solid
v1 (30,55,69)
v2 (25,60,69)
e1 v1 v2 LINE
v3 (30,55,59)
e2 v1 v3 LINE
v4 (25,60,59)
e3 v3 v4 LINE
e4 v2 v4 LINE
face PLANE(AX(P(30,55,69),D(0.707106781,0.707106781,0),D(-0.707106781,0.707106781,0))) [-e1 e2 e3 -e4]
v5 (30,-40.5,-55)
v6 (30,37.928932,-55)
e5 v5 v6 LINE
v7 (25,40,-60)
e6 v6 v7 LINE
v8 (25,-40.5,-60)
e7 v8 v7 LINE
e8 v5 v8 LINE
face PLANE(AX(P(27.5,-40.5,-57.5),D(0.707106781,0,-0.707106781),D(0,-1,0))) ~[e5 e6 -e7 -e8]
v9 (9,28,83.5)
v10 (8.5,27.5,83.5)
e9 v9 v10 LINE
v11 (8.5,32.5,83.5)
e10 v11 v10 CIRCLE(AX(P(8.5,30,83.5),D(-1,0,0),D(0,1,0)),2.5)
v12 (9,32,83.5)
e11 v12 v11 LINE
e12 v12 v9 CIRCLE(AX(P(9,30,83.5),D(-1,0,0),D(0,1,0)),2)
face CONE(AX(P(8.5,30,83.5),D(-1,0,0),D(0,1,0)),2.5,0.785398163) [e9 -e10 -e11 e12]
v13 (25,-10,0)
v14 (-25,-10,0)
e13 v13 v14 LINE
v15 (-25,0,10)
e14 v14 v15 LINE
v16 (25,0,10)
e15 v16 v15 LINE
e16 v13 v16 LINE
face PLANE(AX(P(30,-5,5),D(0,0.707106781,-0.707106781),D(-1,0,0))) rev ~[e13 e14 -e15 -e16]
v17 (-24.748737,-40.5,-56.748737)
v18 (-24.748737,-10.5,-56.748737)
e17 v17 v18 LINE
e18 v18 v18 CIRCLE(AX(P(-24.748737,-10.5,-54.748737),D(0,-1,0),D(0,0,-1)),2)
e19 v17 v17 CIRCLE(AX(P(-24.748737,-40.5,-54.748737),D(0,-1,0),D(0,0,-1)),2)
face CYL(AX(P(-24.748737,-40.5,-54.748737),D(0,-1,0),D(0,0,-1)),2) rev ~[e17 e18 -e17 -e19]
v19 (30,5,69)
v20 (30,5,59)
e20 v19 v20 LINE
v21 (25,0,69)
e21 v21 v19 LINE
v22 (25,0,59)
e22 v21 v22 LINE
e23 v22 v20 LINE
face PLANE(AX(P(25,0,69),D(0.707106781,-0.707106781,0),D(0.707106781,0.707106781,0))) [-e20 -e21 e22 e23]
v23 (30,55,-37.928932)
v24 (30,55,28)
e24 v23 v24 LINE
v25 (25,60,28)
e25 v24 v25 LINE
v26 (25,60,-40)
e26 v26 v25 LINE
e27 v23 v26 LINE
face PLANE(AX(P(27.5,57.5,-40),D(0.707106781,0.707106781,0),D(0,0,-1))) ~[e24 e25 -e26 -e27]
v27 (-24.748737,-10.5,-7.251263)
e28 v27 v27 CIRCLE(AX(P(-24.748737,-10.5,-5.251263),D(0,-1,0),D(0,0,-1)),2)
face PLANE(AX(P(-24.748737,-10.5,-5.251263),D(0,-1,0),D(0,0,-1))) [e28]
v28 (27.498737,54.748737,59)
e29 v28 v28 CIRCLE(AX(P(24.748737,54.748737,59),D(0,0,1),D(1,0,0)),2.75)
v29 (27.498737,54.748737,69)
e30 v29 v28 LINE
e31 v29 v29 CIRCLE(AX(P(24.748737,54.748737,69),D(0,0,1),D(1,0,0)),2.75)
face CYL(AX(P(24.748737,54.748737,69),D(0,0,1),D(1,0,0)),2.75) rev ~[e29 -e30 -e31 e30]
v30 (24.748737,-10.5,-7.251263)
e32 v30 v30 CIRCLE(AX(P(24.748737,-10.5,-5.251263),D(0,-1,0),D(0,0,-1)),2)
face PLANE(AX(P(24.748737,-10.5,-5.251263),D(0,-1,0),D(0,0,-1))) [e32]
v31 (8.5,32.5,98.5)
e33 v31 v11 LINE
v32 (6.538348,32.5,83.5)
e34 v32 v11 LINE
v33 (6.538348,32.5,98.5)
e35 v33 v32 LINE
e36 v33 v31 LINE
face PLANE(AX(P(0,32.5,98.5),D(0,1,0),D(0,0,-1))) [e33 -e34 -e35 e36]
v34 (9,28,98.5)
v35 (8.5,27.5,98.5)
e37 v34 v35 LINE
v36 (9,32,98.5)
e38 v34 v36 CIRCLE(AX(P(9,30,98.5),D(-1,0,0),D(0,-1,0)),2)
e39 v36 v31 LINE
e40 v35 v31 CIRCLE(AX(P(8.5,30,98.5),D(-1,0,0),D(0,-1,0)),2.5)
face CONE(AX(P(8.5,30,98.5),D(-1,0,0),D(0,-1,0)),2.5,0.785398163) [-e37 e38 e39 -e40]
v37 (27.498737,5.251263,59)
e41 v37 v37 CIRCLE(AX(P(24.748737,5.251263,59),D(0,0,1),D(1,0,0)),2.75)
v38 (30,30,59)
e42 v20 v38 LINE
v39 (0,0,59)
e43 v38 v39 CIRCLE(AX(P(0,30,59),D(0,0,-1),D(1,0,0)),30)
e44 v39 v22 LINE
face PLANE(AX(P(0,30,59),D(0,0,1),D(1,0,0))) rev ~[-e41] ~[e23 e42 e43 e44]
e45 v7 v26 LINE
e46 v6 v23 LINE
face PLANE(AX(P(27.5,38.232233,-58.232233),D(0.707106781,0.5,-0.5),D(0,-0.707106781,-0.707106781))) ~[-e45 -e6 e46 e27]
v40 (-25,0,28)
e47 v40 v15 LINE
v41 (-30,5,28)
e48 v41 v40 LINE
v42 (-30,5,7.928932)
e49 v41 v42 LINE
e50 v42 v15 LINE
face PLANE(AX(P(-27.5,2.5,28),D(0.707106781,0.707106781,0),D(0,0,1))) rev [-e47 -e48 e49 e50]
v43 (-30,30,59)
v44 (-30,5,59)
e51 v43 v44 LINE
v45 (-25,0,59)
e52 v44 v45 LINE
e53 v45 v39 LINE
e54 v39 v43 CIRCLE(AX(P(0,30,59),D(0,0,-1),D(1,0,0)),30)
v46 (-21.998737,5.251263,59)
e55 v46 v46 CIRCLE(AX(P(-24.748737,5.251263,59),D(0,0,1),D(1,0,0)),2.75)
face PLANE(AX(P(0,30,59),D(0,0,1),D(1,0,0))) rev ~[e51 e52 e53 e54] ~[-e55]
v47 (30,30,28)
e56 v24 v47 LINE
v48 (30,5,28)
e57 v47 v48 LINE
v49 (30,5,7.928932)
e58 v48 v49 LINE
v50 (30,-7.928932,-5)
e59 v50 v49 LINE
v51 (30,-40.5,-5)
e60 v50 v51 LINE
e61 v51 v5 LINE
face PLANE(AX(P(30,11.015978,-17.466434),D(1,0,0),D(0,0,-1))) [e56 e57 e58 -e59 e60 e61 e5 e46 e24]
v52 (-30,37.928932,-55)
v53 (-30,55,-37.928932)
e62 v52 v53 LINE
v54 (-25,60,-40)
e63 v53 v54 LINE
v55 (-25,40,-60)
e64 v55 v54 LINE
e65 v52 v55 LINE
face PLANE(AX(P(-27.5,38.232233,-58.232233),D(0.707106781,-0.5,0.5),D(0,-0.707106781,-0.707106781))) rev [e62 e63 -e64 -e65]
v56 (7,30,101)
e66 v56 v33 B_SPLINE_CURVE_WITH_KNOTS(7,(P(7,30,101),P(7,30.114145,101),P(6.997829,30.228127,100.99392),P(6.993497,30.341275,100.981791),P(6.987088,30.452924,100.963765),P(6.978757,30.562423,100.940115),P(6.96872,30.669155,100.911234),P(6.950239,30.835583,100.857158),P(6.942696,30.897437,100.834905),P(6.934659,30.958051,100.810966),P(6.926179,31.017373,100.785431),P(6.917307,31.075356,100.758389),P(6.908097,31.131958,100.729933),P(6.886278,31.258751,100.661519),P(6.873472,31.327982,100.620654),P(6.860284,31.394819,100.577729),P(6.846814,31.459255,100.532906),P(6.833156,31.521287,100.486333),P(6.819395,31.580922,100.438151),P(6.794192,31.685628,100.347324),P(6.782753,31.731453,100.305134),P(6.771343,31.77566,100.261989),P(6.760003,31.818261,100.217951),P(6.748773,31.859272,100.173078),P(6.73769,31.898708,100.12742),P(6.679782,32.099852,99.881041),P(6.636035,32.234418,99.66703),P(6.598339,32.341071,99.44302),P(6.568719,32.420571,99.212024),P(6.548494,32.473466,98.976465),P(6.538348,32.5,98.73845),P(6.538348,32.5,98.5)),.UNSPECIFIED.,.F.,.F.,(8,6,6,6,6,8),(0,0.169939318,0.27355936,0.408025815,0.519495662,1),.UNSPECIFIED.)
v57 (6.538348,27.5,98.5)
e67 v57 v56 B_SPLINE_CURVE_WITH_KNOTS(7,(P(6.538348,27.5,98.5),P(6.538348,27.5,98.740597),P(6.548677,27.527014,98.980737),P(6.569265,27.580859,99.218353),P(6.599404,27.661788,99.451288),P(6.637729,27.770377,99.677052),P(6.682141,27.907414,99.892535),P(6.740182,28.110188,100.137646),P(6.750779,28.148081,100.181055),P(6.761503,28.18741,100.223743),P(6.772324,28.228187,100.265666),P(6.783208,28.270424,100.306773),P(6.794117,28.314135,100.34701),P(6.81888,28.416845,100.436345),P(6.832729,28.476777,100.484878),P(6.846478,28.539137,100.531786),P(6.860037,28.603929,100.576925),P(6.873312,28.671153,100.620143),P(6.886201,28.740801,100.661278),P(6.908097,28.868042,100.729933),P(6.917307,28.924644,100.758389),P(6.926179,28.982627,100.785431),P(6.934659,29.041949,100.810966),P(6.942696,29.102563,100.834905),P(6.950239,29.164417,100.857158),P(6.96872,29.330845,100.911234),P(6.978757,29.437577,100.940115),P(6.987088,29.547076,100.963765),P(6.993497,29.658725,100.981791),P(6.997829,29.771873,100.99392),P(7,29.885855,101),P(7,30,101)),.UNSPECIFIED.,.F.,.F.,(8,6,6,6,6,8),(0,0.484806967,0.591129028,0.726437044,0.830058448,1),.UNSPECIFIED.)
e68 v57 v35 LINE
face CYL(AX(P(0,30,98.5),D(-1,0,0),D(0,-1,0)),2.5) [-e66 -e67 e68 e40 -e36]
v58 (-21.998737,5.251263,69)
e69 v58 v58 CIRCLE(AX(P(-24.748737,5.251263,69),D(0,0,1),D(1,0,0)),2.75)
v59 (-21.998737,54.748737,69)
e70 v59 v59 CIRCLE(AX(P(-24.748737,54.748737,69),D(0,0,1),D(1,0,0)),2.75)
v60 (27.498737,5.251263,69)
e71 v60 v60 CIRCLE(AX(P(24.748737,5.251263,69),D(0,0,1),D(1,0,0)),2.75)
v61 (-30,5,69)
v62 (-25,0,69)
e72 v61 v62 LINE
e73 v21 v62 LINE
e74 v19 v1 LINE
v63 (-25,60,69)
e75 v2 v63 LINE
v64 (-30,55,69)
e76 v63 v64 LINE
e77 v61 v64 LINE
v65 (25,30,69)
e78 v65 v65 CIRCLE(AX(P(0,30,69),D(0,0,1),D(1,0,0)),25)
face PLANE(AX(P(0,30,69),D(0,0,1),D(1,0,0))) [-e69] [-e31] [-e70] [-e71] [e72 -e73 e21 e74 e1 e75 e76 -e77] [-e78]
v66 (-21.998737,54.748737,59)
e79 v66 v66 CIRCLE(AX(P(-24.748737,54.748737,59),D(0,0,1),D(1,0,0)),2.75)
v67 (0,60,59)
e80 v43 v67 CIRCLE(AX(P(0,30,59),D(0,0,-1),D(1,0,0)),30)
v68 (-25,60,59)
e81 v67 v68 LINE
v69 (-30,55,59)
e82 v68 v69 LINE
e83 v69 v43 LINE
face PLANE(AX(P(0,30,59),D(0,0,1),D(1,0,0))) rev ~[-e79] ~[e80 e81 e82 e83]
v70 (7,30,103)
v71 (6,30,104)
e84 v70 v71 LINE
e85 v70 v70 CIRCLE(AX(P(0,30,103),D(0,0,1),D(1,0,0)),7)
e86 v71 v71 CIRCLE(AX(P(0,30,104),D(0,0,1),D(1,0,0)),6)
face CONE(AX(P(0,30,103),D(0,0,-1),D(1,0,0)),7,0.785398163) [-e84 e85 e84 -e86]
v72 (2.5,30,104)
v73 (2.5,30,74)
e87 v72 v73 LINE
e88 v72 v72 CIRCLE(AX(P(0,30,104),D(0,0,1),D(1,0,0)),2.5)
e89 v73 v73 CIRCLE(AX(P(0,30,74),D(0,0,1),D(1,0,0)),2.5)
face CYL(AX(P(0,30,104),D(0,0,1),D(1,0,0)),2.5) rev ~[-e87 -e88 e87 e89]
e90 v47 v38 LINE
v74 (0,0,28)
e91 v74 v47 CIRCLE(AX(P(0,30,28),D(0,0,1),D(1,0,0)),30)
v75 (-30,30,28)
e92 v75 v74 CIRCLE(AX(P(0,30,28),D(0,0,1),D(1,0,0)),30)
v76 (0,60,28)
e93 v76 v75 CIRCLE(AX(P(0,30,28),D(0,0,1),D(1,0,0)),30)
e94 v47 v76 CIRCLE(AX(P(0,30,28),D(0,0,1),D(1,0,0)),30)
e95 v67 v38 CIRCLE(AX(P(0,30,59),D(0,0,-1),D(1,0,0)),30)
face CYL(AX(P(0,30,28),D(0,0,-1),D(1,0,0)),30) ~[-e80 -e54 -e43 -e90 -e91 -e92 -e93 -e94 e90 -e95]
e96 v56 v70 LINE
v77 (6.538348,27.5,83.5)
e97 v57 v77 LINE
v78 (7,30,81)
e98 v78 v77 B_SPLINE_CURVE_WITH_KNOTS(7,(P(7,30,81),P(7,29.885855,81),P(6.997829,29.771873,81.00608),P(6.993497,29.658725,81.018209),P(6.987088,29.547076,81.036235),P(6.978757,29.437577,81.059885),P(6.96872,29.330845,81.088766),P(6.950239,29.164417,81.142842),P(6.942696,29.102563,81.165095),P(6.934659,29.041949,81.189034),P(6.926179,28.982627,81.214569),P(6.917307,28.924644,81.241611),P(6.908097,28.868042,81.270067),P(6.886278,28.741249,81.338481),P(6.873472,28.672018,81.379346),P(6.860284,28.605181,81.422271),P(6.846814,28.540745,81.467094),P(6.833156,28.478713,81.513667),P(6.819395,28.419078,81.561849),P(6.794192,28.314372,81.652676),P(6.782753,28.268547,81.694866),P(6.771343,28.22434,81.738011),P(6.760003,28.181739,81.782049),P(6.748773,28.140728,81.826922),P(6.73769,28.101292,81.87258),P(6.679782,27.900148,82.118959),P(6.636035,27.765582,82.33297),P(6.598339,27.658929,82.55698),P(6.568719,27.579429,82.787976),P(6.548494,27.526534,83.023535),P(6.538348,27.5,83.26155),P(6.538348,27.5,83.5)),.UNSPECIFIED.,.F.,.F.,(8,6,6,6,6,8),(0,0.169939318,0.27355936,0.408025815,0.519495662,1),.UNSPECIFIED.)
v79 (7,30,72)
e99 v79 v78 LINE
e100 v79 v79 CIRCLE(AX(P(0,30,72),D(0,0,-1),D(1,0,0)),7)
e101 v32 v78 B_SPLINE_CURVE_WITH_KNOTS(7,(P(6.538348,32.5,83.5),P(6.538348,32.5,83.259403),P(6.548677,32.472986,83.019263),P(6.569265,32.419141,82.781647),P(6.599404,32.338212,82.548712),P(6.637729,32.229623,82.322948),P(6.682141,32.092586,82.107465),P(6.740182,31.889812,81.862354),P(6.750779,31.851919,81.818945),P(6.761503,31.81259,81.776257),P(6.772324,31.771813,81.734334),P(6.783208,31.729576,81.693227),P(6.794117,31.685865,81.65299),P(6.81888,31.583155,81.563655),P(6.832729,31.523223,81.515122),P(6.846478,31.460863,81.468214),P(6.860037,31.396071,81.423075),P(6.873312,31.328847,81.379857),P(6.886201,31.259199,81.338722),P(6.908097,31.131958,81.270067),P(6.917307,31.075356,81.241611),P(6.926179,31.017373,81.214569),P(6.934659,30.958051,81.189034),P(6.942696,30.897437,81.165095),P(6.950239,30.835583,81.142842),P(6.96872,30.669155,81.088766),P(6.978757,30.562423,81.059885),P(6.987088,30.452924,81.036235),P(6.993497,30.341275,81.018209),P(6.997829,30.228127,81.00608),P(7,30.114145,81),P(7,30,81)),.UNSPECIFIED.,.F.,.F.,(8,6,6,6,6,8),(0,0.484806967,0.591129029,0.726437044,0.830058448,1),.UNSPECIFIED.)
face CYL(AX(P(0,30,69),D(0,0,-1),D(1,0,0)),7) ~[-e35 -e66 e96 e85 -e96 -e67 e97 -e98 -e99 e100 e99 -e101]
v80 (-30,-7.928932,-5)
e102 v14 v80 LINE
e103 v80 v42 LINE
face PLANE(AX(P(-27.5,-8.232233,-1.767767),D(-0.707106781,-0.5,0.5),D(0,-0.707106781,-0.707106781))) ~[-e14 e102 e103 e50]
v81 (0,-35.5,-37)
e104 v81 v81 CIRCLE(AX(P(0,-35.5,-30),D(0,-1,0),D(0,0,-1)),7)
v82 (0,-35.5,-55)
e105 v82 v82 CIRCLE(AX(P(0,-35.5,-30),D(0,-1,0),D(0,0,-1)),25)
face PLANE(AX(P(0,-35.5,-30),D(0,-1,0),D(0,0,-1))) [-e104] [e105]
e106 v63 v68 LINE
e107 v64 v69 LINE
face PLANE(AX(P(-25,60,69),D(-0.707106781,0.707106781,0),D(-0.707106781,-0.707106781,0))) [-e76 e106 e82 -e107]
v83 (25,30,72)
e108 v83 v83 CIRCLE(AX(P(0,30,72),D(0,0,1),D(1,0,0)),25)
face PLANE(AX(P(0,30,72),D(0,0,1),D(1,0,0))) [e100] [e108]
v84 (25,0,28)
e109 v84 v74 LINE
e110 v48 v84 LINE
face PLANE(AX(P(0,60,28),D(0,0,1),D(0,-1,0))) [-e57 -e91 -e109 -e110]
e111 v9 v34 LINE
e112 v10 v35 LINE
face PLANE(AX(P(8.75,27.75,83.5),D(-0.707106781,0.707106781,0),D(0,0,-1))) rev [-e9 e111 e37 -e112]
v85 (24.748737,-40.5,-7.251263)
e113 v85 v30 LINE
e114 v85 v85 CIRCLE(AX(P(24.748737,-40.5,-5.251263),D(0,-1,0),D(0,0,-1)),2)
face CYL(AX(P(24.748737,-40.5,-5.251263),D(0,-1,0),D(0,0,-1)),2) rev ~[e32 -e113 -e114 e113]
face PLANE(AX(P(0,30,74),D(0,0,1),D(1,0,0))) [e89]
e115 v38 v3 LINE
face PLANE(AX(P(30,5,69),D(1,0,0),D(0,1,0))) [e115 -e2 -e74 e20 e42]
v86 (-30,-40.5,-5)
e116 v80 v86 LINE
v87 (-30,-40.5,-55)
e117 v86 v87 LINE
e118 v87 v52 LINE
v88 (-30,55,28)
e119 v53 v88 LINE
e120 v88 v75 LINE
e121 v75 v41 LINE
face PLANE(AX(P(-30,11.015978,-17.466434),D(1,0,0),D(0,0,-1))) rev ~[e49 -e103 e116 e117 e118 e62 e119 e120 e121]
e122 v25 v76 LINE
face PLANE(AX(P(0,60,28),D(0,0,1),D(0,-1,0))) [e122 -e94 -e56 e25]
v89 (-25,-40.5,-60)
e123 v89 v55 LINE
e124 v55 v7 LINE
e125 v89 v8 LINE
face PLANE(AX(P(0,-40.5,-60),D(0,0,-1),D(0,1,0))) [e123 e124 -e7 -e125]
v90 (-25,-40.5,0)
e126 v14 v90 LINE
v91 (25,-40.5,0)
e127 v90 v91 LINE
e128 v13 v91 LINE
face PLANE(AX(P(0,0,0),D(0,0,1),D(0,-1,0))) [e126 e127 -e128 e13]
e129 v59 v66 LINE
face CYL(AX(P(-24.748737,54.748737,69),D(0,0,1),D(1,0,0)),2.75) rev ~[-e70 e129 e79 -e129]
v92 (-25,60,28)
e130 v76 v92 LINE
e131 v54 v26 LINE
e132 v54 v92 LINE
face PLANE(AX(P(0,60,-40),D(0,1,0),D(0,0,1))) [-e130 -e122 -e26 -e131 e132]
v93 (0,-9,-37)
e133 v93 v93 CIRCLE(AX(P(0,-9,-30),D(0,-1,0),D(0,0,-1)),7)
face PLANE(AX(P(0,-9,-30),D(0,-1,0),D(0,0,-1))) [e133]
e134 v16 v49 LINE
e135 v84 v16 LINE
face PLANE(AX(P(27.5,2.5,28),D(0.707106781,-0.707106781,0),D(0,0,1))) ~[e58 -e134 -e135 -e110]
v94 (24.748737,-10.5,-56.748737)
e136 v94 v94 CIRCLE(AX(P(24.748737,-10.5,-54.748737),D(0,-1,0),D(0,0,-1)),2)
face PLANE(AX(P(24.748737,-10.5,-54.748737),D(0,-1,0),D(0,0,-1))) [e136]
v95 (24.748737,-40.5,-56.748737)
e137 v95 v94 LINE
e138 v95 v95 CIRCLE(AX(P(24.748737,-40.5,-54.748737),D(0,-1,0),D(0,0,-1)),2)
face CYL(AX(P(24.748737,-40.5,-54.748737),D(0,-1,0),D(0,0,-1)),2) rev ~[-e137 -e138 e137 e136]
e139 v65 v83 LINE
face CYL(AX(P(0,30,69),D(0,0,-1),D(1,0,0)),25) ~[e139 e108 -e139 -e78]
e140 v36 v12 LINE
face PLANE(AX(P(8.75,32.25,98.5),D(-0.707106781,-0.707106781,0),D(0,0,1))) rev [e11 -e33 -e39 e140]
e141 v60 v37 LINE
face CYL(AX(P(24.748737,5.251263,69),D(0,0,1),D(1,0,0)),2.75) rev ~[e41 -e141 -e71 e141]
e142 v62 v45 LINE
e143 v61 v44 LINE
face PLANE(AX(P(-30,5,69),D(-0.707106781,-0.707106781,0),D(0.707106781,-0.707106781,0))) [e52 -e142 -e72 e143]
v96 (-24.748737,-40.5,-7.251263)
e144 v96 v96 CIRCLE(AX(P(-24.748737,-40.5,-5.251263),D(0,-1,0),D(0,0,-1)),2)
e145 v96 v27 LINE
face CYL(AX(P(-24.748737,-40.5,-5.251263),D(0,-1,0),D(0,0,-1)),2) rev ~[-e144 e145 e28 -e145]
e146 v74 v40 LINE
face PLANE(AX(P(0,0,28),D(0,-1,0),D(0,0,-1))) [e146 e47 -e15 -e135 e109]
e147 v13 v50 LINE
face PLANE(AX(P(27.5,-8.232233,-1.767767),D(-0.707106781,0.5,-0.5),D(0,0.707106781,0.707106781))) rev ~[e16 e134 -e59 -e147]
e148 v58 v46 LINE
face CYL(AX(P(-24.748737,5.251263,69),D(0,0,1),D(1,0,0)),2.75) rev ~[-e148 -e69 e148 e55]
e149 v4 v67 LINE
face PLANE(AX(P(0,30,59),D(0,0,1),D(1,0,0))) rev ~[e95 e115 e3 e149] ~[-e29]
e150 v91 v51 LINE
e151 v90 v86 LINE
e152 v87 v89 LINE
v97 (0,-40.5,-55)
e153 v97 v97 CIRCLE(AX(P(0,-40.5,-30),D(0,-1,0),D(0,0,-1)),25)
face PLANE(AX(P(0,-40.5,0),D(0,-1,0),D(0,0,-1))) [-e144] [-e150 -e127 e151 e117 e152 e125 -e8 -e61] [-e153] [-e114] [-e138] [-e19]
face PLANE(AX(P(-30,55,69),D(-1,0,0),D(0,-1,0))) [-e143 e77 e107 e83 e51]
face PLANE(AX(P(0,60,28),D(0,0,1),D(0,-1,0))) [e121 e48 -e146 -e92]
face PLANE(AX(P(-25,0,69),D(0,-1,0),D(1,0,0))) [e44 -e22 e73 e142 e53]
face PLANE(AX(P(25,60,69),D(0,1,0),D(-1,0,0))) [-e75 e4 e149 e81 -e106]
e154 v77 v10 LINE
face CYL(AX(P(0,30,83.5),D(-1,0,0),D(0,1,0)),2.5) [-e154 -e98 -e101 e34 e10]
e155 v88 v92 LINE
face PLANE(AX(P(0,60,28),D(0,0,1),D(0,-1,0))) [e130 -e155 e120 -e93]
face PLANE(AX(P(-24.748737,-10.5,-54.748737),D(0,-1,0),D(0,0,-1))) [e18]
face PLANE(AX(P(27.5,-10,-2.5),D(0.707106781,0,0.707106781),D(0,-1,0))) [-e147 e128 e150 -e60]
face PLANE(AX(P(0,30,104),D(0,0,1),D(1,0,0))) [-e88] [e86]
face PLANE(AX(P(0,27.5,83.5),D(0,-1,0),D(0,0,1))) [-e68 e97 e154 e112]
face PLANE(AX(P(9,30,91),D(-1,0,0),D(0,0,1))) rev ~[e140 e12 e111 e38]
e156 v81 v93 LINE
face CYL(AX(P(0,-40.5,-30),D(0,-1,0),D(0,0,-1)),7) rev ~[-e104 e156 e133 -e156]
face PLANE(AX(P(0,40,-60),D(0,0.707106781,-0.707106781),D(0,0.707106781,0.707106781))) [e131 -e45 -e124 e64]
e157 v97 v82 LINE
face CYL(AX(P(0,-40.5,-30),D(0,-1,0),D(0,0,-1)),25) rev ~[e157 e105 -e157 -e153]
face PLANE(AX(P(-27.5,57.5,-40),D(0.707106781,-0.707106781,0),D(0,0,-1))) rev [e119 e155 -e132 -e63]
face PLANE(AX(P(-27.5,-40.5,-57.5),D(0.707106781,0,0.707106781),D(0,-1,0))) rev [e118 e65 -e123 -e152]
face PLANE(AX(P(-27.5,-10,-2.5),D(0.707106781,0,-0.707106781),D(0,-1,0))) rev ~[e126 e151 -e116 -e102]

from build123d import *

# Parameters (mm, degrees)
EXTRUDE_1_DEPTH     = 30
CHAMFER_1_SIZE      = 10
CHAMFER_2_SIZE      = 5
SKETCH_2_R          = 30
EXTRUDE_2_DEPTH     = 41
EXTRUDE_3_DEPTH     = 10
SKETCH_4_R          = 25
EXTRUDE_4_DEPTH     = 3
SKETCH_5_R          = 7
EXTRUDE_5_DEPTH     = 35
CUT_EXTRUDE_1_REACH = 147.399
SKETCH_6_R          = 2.75
SKETCH_8_R          = 25
CUT_EXTRUDE_2_DEPTH = 5
SKETCH_9_R          = 7
CUT_EXTRUDE_3_DEPTH = 31.5
EXTRUDE_6_DEPTH     = 9
CHAMFER_3_SIZE      = 0.5
SKETCH_11_R         = 2
CUT_EXTRUDE_4_DEPTH = 30
SKETCH_12_R         = 2.5
CUT_EXTRUDE_5_DEPTH = 30
CHAMFER_4_SIZE      = 1


with BuildPart() as part:
    # 草图1 → 凸台-拉伸1 (new, symmetric)
    with BuildSketch(Plane(origin=(0, 0, 0), x_dir=(0, 0, -1), z_dir=(1, 0, 0))):
        Polygon((0, 0), (0, -40.5), (60, -40.5), (60, 40), (40, 60), (-28, 60), (-28, 0), align=None)
    extrude(amount=EXTRUDE_1_DEPTH, both=True)

    # 倒角1
    chamfer_1_edges = [part.edges().sort_by_distance(p)[0] for p in [
        (0, 0, 0),
    ]]
    chamfer(chamfer_1_edges, length=CHAMFER_1_SIZE)

    # 倒角2
    chamfer_2_edges = [part.edges().sort_by_distance(p)[0] for p in [
        (-30, 0, 19),
        (30, -0.25, -60),
        (30, 50, -50),
        (-30, -25.25, 0),
        (30, -25.25, 0),
        (-30, -5, 5),
        (30, -5, 5),
        (30, 60, -6),
        (30, 0, 19),
        (-30, 60, -6),
        (-30, 50, -50),
        (-30, -0.25, -60),
    ]]
    chamfer(chamfer_2_edges, length=CHAMFER_2_SIZE)

    # 草图2 → 凸台-拉伸2 (add)
    with BuildSketch(Plane.XY.offset(28)):
        with Locations((0, 30)):
            Circle(SKETCH_2_R)
    extrude(amount=EXTRUDE_2_DEPTH)

    # 草图3 → 凸台-拉伸3 (add)
    with BuildSketch(Plane.XY.offset(69)):
        Polygon((-30, 30), (-30, 5), (-25, 0), (25, 0), (30, 5), (30, 30), (30, 55), (25, 60), (0, 60), (-25, 60), (-30, 55), align=None)
    extrude(amount=-EXTRUDE_3_DEPTH)

    # 草图4 → 凸台-拉伸4 (add)
    with BuildSketch(Plane.XY.offset(69)):
        with Locations((0, 30)):
            Circle(SKETCH_4_R)
    extrude(amount=EXTRUDE_4_DEPTH)

    # 草图5 → 凸台-拉伸5 (add)
    with BuildSketch(Plane.XY.offset(69)):
        with Locations((0, 30)):
            Circle(SKETCH_5_R)
    extrude(amount=EXTRUDE_5_DEPTH)

    # 草图6 → 切除-拉伸1 (cut, up to next)
    with BuildSketch(Plane.XY.offset(69), mode=Mode.PRIVATE) as cut_extrude_1_sk1:
        with Locations((-24.748737342, 54.748737342)):
            Circle(SKETCH_6_R)
    cut_extrude_1_tool1 = extrude(cut_extrude_1_sk1.sketch, amount=-CUT_EXTRUDE_1_REACH, mode=Mode.PRIVATE) & part.part
    # 草图6 → 切除-拉伸1 (cut, up to next)
    with BuildSketch(Plane.XY.offset(69), mode=Mode.PRIVATE) as cut_extrude_1_sk2:
        with Locations((24.748737342, 54.748737342)):
            Circle(SKETCH_6_R)
    cut_extrude_1_tool2 = extrude(cut_extrude_1_sk2.sketch, amount=-CUT_EXTRUDE_1_REACH, mode=Mode.PRIVATE) & part.part
    # 草图6 → 切除-拉伸1 (cut, up to next)
    with BuildSketch(Plane.XY.offset(69), mode=Mode.PRIVATE) as cut_extrude_1_sk3:
        with Locations((24.748737342, 5.251262658)):
            Circle(SKETCH_6_R)
    cut_extrude_1_tool3 = extrude(cut_extrude_1_sk3.sketch, amount=-CUT_EXTRUDE_1_REACH, mode=Mode.PRIVATE) & part.part
    # 草图6 → 切除-拉伸1 (cut, up to next)
    with BuildSketch(Plane.XY.offset(69), mode=Mode.PRIVATE) as cut_extrude_1_sk4:
        with Locations((-24.748737342, 5.251262658)):
            Circle(SKETCH_6_R)
    cut_extrude_1_tool4 = extrude(cut_extrude_1_sk4.sketch, amount=-CUT_EXTRUDE_1_REACH, mode=Mode.PRIVATE) & part.part
    add(cut_extrude_1_tool1.solids().sort_by_distance((-24.748737, 54.748737, 69))[0], mode=Mode.SUBTRACT)
    add(cut_extrude_1_tool2.solids().sort_by_distance((24.748737, 54.748737, 69))[0], mode=Mode.SUBTRACT)
    add(cut_extrude_1_tool3.solids().sort_by_distance((24.748737, 5.251263, 69))[0], mode=Mode.SUBTRACT)
    add(cut_extrude_1_tool4.solids().sort_by_distance((-24.748737, 5.251263, 69))[0], mode=Mode.SUBTRACT)

    # 草图8 → 切除-拉伸2 (cut)
    with BuildSketch(Plane.XZ.offset(40.5)):
        with Locations(Location((0, -30, 0), (0, 0, 270))):
            Circle(SKETCH_8_R)
    extrude(amount=-CUT_EXTRUDE_2_DEPTH, mode=Mode.SUBTRACT)

    # 草图9 → 切除-拉伸3 (cut)
    with BuildSketch(Plane.XZ.offset(40.5)):
        with Locations(Location((0, -30, 0), (0, 0, 270))):
            Circle(SKETCH_9_R)
    extrude(amount=-CUT_EXTRUDE_3_DEPTH, mode=Mode.SUBTRACT)

    # 草图10 → 凸台-拉伸6 (add)
    with BuildSketch(Plane(origin=(0, 0, 0), x_dir=(0, 0, -1), z_dir=(1, 0, 0))):
        with BuildLine():
            Line((-98.5, 32.5), (-83.5, 32.5))
            ThreePointArc((-83.5, 32.5), (-81, 30), (-83.5, 27.5))
            Line((-83.5, 27.5), (-98.5, 27.5))
            ThreePointArc((-98.5, 27.5), (-101, 30), (-98.5, 32.5))
        make_face()
    extrude(amount=EXTRUDE_6_DEPTH)

    # 倒角3
    chamfer_3_edges = [part.edges().sort_by_distance(p)[0] for p in [
        (9, 30, 101),
        (9, 27.5, 91),
        (9, 30, 81),
        (9, 32.5, 91),
    ]]
    chamfer(chamfer_3_edges, length=CHAMFER_3_SIZE)

    # 草图11 → 切除-拉伸4 (cut)
    with BuildSketch(Plane.XZ.offset(40.5)):
        with Locations(Location((-24.748737342, -5.251262658, 0), (0, 0, 270))):
            Circle(SKETCH_11_R)
        with Locations(Location((24.748737342, -5.251262658, 0), (0, 0, 270))):
            Circle(SKETCH_11_R)
        with Locations(Location((24.748737342, -54.748737342, 0), (0, 0, 270))):
            Circle(SKETCH_11_R)
        with Locations(Location((-24.748737342, -54.748737342, 0), (0, 0, 270))):
            Circle(SKETCH_11_R)
    extrude(amount=-CUT_EXTRUDE_4_DEPTH, mode=Mode.SUBTRACT)

    # 草图12 → 切除-拉伸5 (cut)
    with BuildSketch(Plane.XY.offset(104)):
        with Locations((0, 30)):
            Circle(SKETCH_12_R)
    extrude(amount=-CUT_EXTRUDE_5_DEPTH, mode=Mode.SUBTRACT)

    # 倒角4
    chamfer_4_edges = [part.edges().sort_by_distance(p)[0] for p in [
        (-7, 30, 104),
    ]]
    chamfer(chamfer_4_edges, length=CHAMFER_4_SIZE)


solid = part.part
